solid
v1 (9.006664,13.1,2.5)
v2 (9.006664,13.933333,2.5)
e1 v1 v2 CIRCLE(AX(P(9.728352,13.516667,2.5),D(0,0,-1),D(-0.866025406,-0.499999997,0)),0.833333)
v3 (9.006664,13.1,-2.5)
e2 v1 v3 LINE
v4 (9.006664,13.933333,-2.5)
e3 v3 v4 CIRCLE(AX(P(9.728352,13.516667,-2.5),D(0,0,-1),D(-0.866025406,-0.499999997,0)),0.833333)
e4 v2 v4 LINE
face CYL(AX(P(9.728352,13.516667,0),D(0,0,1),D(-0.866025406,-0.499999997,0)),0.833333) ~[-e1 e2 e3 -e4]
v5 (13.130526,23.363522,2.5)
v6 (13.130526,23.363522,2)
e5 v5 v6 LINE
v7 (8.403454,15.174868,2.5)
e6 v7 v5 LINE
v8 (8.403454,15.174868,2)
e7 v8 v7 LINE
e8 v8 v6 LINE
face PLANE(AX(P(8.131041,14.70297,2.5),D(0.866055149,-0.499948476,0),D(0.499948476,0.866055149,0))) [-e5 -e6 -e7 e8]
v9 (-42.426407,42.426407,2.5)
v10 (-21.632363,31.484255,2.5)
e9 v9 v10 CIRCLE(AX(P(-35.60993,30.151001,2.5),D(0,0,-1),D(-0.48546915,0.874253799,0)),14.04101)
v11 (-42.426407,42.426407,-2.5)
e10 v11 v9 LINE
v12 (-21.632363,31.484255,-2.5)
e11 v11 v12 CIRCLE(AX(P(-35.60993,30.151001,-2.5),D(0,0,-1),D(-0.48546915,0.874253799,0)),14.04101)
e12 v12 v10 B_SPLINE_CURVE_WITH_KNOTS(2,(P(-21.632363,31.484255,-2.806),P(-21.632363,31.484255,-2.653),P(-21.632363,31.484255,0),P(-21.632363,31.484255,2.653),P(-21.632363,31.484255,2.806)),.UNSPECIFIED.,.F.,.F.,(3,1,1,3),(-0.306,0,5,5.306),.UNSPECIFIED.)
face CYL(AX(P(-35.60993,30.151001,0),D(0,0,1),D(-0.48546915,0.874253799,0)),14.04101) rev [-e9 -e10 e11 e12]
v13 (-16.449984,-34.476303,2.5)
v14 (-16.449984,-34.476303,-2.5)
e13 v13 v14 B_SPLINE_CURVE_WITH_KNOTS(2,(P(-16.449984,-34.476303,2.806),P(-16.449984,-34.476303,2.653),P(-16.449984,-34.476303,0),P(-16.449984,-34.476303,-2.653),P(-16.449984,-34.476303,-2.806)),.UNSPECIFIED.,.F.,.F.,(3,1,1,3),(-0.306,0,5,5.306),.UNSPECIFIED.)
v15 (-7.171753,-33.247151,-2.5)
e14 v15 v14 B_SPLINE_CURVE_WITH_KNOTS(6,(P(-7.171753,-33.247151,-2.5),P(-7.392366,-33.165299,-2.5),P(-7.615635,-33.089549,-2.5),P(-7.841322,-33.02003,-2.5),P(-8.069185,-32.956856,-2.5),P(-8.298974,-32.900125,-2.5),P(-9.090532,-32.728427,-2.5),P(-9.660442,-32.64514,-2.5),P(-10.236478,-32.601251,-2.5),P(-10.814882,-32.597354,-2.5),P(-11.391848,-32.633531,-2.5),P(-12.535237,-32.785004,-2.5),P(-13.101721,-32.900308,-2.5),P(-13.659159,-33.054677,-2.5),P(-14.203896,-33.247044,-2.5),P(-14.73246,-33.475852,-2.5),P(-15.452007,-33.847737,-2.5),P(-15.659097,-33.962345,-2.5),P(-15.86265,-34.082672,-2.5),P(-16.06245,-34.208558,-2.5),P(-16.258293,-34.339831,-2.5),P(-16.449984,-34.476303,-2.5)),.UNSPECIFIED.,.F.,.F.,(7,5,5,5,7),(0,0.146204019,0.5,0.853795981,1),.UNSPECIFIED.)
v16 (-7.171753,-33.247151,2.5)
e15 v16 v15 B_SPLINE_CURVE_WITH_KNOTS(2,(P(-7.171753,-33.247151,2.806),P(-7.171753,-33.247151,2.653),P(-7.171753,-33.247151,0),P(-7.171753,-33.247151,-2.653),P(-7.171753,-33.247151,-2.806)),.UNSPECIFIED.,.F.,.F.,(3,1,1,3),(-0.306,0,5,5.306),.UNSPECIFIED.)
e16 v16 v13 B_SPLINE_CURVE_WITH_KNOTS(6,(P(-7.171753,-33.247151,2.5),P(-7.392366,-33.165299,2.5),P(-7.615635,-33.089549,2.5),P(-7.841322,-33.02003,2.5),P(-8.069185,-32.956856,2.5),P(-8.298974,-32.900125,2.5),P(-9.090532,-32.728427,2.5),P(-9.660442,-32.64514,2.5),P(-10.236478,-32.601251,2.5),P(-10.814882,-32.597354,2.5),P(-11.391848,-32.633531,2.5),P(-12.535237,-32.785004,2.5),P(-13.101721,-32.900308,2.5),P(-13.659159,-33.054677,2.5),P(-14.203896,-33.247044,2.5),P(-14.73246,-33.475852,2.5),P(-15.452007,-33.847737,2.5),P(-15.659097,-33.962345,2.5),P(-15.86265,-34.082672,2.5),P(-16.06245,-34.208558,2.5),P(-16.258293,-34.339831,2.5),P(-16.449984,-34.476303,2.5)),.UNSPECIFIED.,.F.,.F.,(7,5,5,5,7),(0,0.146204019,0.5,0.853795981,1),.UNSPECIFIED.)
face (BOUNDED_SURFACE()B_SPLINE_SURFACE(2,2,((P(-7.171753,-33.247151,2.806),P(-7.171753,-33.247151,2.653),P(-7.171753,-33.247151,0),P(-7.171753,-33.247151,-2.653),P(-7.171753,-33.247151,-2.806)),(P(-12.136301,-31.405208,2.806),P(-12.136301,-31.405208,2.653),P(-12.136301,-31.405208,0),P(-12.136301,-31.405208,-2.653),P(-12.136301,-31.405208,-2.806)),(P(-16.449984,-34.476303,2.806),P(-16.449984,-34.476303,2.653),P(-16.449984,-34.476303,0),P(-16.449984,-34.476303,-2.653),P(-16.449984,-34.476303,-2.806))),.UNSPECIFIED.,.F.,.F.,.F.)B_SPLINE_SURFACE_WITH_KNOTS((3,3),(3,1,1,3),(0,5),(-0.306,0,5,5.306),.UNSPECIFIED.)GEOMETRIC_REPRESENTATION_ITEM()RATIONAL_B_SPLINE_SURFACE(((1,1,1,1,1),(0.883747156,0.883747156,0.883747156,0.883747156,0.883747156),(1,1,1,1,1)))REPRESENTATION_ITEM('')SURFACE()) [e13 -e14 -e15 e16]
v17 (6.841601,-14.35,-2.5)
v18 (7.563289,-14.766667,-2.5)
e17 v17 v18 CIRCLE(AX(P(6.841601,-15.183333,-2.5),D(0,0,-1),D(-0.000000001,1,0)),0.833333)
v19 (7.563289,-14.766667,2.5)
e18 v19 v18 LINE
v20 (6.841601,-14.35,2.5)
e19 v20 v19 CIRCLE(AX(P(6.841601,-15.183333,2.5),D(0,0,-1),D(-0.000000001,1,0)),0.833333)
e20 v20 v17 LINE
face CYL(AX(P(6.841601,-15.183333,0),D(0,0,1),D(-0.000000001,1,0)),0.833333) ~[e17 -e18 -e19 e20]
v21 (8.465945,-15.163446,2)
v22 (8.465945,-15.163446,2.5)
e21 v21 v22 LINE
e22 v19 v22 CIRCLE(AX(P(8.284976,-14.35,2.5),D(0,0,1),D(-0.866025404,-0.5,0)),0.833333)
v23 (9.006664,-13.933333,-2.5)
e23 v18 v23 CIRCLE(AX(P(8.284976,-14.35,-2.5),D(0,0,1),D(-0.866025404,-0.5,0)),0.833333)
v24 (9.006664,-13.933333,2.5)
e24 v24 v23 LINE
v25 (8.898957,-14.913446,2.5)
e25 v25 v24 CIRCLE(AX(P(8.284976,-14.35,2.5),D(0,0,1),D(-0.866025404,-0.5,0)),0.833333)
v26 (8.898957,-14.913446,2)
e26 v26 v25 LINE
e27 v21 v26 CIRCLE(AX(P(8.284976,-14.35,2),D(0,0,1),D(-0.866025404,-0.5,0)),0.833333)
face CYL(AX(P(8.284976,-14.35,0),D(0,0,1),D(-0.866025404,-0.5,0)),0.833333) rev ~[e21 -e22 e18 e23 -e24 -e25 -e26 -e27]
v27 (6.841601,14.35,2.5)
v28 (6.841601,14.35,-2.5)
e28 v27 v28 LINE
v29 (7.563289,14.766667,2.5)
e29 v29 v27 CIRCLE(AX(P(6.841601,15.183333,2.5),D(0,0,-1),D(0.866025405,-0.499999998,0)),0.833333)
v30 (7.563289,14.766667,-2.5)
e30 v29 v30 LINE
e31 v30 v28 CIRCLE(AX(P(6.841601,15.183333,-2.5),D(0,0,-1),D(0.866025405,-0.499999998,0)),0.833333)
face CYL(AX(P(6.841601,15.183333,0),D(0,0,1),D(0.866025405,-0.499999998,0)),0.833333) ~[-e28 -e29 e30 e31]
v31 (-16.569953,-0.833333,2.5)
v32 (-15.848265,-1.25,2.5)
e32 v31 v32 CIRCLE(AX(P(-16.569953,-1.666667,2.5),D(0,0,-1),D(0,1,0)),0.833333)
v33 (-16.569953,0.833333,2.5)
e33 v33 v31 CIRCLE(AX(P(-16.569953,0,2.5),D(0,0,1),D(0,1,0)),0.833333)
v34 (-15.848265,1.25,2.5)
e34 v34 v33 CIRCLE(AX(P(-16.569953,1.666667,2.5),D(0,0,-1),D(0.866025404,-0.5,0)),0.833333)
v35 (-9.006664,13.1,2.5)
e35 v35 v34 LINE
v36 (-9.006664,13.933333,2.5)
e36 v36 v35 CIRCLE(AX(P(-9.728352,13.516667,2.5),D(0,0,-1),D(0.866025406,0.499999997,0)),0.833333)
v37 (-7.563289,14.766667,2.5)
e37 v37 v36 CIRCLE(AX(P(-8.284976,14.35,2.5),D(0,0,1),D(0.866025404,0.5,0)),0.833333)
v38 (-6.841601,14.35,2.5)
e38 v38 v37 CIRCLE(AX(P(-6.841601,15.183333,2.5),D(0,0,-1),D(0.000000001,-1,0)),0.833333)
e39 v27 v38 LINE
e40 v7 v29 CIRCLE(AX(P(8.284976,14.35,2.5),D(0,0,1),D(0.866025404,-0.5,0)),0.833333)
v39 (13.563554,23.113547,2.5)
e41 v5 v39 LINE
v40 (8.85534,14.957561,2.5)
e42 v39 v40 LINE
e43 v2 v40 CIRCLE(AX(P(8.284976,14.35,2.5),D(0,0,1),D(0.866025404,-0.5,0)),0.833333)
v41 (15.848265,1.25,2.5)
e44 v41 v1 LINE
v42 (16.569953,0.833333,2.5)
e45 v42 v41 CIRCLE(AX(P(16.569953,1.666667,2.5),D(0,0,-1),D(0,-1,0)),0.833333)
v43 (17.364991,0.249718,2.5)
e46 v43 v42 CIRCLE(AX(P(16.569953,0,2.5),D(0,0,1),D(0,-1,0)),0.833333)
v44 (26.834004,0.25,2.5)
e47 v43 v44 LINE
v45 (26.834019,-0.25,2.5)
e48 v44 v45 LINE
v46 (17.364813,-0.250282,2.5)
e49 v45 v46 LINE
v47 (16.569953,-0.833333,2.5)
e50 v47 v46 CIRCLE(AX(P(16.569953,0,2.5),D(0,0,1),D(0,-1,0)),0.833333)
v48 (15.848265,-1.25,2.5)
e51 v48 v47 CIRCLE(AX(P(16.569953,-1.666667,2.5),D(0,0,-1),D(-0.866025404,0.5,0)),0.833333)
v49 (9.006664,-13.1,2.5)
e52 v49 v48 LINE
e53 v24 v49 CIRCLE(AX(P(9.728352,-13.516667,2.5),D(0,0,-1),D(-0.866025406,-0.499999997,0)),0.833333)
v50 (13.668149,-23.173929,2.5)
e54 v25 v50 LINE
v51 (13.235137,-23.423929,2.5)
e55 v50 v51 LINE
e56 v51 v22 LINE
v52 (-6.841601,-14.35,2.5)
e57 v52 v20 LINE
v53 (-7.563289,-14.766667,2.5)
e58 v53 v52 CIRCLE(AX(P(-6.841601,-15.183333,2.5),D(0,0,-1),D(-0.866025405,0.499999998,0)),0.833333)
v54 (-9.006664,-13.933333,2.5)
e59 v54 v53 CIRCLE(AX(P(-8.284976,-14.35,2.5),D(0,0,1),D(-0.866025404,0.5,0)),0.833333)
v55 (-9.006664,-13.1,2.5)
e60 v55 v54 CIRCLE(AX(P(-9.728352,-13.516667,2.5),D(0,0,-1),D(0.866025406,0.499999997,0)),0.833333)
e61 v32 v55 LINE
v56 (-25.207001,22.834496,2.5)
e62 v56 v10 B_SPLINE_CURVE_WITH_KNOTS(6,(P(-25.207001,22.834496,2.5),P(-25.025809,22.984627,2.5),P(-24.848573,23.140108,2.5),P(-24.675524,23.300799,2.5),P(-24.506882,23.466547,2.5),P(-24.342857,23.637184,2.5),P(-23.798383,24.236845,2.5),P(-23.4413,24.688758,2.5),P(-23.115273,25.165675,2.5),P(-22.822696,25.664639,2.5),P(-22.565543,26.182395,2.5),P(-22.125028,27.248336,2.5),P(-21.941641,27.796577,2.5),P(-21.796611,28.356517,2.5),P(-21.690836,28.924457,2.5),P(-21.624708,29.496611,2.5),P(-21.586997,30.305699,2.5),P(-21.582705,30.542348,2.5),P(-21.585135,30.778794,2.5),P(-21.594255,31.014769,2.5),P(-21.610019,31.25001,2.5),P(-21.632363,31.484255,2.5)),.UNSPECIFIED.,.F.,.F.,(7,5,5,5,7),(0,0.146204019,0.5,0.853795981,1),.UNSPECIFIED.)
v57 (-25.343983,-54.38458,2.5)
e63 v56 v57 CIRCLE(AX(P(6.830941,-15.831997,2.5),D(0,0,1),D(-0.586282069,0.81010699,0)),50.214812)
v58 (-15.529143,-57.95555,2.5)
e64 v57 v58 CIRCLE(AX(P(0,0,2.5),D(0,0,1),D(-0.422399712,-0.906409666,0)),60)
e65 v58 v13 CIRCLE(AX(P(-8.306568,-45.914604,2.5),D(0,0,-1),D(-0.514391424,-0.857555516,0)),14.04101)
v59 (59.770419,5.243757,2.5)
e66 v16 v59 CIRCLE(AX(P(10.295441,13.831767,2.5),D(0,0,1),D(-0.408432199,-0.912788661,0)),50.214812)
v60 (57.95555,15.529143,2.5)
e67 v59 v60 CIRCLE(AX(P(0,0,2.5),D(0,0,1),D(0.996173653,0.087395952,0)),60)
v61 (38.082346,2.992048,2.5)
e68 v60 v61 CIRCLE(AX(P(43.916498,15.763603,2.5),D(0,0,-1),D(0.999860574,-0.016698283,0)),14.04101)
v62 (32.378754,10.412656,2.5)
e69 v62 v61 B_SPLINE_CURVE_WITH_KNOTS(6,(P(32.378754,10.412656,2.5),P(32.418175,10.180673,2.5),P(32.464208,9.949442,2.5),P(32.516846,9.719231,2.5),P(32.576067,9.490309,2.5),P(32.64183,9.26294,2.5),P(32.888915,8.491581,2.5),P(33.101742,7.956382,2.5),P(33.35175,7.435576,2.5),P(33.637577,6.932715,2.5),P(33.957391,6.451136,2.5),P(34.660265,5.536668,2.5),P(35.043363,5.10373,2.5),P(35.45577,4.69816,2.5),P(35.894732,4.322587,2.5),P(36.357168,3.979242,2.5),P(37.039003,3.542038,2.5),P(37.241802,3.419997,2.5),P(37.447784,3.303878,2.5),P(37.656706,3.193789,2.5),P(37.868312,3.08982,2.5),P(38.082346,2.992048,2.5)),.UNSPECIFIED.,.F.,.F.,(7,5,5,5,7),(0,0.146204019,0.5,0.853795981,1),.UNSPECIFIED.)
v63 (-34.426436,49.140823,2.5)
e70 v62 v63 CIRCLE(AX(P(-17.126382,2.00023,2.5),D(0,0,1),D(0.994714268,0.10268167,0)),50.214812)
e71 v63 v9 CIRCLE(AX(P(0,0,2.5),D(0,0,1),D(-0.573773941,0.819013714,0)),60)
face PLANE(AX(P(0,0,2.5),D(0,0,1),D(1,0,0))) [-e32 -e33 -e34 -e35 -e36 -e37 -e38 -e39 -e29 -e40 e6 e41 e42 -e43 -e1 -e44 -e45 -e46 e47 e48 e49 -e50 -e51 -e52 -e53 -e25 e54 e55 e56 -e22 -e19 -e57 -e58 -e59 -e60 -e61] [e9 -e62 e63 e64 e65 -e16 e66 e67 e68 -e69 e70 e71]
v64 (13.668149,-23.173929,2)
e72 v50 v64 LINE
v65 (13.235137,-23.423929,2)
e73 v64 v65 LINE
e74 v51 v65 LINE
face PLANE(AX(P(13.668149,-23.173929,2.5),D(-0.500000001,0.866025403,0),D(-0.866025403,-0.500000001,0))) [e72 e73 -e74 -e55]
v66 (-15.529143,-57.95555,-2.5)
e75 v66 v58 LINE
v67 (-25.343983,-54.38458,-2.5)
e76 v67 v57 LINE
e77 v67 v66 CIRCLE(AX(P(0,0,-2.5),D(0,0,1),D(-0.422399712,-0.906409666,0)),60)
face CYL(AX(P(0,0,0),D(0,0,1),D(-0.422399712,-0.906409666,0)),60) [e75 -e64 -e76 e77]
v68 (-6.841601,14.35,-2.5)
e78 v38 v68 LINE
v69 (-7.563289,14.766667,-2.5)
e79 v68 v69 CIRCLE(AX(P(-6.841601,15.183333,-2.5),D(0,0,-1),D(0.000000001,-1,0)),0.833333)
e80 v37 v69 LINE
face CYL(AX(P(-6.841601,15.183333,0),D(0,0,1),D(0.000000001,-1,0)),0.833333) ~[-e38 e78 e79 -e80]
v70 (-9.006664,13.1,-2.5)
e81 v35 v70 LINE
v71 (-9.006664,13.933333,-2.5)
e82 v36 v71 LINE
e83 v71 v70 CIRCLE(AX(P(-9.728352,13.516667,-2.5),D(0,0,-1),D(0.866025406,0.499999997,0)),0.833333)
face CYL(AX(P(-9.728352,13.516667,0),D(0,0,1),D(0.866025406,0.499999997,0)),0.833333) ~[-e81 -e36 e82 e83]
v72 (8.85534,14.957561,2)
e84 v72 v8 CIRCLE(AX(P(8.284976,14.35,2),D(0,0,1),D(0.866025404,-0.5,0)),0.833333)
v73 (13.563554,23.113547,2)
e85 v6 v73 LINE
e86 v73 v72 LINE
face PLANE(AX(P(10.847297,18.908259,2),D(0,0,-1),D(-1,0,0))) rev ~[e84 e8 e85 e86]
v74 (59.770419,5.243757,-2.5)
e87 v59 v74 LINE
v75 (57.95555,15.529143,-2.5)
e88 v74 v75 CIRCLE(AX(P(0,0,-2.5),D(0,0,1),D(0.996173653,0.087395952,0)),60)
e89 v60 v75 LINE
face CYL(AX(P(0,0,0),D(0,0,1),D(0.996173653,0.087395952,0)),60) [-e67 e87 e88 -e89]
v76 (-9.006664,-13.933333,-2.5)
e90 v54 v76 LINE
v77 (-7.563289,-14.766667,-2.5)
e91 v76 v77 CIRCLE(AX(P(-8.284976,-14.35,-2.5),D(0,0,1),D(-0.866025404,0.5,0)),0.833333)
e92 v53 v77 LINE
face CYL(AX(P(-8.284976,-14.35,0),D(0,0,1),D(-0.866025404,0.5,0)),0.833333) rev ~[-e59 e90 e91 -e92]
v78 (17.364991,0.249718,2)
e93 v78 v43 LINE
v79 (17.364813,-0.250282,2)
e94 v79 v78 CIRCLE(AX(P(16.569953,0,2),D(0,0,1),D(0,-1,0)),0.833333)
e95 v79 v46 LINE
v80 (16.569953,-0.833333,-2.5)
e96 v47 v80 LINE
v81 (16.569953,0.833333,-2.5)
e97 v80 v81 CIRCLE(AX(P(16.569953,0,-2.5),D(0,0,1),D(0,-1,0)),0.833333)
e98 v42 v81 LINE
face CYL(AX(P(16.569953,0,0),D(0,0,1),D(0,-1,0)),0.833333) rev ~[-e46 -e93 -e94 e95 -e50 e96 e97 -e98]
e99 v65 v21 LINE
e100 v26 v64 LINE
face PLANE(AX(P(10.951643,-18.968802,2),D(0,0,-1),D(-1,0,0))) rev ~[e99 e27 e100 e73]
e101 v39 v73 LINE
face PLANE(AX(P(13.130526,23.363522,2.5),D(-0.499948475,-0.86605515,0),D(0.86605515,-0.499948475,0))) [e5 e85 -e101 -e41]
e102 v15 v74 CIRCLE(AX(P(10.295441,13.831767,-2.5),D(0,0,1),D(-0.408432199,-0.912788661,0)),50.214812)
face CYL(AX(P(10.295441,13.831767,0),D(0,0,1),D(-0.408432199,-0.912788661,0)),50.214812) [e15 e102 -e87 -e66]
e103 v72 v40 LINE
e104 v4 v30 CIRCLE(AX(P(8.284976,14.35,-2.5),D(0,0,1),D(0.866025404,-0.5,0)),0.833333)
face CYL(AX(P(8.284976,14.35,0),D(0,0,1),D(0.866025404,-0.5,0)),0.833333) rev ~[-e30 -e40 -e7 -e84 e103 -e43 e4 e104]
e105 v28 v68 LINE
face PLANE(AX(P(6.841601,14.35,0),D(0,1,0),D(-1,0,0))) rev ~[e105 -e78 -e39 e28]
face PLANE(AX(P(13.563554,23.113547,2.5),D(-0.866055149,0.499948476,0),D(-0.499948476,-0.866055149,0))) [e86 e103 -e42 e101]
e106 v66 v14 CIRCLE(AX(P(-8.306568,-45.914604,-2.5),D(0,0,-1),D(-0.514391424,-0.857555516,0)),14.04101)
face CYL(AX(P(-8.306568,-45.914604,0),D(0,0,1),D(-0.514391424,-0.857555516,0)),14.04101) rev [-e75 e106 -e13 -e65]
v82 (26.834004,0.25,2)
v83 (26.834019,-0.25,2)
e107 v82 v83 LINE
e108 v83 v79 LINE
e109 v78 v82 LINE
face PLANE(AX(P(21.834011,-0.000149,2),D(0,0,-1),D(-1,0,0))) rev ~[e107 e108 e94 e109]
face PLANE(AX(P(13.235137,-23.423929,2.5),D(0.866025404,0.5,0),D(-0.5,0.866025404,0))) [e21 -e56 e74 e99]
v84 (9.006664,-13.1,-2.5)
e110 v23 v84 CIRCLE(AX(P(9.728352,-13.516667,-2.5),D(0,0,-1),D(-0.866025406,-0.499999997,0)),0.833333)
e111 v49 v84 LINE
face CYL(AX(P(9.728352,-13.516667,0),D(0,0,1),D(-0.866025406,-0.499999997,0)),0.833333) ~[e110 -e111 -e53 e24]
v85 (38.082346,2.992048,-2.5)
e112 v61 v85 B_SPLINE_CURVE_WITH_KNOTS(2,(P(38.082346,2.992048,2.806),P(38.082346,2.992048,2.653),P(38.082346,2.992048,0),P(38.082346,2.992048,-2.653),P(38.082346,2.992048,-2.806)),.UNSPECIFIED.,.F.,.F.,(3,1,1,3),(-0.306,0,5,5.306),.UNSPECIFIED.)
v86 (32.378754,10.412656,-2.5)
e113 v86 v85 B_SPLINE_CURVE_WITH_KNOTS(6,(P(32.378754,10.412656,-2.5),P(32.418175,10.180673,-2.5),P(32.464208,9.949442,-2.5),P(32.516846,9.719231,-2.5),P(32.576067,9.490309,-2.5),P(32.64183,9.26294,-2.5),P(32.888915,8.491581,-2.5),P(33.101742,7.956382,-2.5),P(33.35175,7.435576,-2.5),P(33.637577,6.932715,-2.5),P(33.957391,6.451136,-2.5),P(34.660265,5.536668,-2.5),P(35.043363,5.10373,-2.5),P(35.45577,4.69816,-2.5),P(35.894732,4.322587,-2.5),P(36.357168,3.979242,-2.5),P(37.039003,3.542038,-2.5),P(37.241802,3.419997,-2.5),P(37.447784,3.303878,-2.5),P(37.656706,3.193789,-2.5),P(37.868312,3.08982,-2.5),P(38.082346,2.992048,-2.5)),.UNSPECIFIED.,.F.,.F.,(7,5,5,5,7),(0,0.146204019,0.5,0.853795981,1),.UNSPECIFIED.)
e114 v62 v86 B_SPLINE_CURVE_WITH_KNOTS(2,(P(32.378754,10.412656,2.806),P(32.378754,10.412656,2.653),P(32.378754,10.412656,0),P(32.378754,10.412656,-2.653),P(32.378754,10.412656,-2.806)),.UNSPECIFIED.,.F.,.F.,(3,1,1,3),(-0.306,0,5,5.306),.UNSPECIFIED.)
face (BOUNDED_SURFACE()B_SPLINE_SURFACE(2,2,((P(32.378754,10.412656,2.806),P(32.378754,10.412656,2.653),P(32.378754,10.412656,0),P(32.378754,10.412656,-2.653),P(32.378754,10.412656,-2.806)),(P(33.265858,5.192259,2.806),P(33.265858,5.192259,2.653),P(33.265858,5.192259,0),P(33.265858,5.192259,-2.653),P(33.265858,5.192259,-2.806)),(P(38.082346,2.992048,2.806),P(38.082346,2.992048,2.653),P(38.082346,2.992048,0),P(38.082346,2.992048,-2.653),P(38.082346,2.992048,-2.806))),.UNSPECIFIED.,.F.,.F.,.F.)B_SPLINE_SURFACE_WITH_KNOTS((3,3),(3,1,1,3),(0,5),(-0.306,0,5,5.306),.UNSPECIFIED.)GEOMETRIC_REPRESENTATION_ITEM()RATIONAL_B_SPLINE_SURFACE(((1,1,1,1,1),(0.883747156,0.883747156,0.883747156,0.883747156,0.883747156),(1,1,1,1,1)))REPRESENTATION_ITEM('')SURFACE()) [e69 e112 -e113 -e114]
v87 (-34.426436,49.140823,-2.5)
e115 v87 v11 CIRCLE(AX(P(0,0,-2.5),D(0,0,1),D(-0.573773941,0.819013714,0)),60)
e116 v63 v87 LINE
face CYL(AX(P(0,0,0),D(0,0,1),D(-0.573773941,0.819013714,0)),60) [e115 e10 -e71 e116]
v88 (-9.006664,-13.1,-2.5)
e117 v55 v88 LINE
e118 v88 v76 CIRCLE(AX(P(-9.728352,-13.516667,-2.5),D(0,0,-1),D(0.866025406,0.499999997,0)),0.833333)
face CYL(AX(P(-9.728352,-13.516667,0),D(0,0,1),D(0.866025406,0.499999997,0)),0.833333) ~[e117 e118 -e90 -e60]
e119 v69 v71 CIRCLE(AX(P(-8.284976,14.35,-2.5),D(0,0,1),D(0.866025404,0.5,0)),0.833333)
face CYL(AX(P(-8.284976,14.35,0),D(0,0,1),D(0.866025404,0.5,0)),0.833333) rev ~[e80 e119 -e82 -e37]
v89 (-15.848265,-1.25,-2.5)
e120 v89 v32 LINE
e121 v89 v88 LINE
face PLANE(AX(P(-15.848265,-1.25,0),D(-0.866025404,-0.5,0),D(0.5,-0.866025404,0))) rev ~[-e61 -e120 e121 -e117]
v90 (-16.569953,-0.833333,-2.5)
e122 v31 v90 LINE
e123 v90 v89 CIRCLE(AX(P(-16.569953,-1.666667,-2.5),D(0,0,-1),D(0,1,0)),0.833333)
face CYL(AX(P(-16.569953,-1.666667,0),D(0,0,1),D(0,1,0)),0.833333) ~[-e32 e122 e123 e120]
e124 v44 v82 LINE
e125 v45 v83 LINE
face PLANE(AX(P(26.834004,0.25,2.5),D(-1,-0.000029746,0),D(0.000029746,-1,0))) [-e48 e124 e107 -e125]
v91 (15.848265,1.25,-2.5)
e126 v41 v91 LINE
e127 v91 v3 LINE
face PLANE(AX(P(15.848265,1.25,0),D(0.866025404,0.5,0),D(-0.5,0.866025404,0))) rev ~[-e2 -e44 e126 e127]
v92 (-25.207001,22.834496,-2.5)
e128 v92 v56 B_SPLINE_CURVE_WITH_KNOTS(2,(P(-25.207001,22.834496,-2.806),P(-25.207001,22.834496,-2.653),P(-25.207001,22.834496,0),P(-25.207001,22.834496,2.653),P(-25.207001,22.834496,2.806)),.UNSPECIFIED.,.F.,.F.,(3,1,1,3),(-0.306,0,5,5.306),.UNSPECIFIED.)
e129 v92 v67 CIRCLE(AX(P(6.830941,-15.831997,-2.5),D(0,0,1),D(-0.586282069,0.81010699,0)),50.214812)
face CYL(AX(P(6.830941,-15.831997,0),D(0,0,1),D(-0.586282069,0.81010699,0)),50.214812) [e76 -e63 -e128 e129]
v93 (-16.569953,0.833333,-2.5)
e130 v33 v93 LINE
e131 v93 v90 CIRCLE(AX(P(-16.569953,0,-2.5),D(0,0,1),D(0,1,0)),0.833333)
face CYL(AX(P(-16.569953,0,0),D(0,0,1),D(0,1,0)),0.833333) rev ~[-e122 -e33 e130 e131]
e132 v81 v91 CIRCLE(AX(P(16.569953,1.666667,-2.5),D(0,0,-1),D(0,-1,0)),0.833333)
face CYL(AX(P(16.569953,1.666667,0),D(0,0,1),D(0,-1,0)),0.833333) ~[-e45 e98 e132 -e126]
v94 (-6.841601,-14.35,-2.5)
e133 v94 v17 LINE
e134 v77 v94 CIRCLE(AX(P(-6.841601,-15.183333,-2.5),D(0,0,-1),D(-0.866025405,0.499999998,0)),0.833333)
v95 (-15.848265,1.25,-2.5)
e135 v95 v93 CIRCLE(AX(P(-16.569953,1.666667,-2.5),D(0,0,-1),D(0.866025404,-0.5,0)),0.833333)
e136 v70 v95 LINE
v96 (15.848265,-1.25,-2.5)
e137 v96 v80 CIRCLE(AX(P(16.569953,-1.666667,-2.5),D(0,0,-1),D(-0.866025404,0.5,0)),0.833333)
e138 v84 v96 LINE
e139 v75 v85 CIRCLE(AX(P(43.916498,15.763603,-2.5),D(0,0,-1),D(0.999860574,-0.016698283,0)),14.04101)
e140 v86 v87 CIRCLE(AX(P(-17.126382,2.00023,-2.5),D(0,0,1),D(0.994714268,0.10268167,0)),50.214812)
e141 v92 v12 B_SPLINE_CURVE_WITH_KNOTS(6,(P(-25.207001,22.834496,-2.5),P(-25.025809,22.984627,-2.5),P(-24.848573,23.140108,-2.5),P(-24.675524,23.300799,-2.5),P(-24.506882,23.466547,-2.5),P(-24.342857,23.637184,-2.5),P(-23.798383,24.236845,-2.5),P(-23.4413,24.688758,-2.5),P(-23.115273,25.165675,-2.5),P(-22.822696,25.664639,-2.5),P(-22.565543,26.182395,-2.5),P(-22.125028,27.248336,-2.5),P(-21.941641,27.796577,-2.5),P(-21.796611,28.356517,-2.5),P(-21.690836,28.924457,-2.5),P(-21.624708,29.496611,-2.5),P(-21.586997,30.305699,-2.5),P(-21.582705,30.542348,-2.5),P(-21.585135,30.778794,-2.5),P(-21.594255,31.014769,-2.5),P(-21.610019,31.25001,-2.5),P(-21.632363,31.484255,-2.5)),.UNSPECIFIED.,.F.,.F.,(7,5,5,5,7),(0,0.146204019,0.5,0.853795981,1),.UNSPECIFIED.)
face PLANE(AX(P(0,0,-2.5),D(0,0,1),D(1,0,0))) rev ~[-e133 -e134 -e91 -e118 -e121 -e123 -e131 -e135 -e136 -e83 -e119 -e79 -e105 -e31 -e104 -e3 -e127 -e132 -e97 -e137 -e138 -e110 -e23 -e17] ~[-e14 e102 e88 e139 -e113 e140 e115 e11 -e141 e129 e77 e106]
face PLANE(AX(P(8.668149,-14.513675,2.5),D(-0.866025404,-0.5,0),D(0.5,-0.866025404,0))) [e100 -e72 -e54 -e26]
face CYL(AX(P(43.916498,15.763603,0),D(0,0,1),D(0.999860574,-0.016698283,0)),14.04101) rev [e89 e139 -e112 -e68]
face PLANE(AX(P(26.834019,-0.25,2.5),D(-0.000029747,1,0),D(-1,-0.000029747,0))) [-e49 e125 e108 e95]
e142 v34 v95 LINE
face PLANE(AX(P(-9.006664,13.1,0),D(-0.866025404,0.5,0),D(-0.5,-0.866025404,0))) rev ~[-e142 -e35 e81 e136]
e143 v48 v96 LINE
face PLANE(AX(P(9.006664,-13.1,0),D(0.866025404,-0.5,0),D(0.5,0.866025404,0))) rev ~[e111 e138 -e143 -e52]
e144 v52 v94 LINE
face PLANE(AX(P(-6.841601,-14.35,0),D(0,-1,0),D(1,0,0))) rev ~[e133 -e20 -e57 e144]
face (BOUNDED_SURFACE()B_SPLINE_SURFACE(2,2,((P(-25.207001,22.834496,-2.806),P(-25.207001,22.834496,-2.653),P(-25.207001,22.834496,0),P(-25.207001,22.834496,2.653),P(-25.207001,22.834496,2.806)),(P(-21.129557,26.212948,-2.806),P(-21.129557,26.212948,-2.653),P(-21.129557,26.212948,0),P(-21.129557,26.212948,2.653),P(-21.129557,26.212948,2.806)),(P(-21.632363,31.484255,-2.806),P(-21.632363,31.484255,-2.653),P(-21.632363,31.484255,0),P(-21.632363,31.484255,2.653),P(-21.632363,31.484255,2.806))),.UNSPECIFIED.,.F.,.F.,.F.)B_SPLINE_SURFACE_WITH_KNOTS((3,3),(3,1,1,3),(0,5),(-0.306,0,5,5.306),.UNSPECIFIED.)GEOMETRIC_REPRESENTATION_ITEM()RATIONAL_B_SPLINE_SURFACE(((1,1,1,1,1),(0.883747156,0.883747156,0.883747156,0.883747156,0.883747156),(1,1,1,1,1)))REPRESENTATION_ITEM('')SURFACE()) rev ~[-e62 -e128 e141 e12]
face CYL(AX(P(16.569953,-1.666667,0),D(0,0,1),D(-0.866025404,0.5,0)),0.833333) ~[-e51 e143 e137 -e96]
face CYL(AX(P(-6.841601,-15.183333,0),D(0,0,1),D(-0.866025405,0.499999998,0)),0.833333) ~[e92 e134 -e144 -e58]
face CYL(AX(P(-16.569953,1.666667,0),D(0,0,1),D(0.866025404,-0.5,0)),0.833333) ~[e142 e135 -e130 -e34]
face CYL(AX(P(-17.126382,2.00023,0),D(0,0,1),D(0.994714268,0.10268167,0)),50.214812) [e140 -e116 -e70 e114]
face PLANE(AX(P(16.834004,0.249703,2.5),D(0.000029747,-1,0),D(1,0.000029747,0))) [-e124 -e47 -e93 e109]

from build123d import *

# Parameters (mm, degrees)
BOSS_EXTRUDE1_DEPTH = 2.5
FILLET1_R           = 10
CUT_EXTRUDE1_DEPTH  = 0.5


with BuildPart() as part:
    # Sketch1 → Boss-Extrude1 (new, symmetric)
    with BuildSketch(Plane.XY):
        with BuildLine():
            ThreePointArc((-34.426436475, 49.140822863), (-38.572797774, 45.958016405), (-42.426406871, 42.426406871))
            ThreePointArc((-42.426406871, 42.426406871), (-26.29235792, 40.654943242), (-22.609103215, 24.847373735))
            ThreePointArc((-22.609103215, 24.847373735), (-43.353983992, -14.099744614), (-25.343982725, -54.38457998))
            ThreePointArc((-25.343982725, -54.38457998), (-20.514410827, -56.38403097), (-15.529142706, -57.955549577))
            ThreePointArc((-15.529142706, -57.955549577), (-22.062034677, -43.097321505), (-10.213905264, -32.003744609))
            ThreePointArc((-10.213905264, -32.003744609), (33.887729018, -30.495779185), (59.7704192, 5.243757117))
            ThreePointArc((59.7704192, 5.243757117), (59.087208601, 10.426014565), (57.955549577, 15.529142706))
            ThreePointArc((57.955549577, 15.529142706), (48.354392597, 2.442378263), (32.82300848, 7.156370874))
            ThreePointArc((32.82300848, 7.156370874), (9.466254973, 44.595523799), (-34.426436475, 49.140822863))
        make_face()
        with BuildLine():
            Line((-15.848264889, -1.25), (-9.006664199, -13.1))
            ThreePointArc((-9.006664199, -13.1), (-8.895018703, -13.516666667), (-9.006664199, -13.933333333))
            ThreePointArc((-9.006664199, -13.933333333), (-8.70164303, -15.071687836), (-7.563288526, -14.766666667))
            ThreePointArc((-7.563288526, -14.766666667), (-7.258267357, -14.461645497), (-6.84160069, -14.35))
            Line((-6.84160069, -14.35), (6.84160069, -14.35))
            ThreePointArc((6.84160069, -14.35), (7.258267357, -14.461645497), (7.563288526, -14.766666667))
            ThreePointArc((7.563288526, -14.766666667), (8.70164303, -15.071687836), (9.006664199, -13.933333333))
            ThreePointArc((9.006664199, -13.933333333), (8.895018703, -13.516666667), (9.006664199, -13.1))
            Line((9.006664199, -13.1), (15.848264889, -1.25))
            ThreePointArc((15.848264889, -1.25), (16.153286059, -0.94497883), (16.569952726, -0.833333333))
            ThreePointArc((16.569952726, -0.833333333), (17.403286059, 0), (16.569952726, 0.833333333))
            ThreePointArc((16.569952726, 0.833333333), (16.153286059, 0.94497883), (15.848264889, 1.25))
            Line((15.848264889, 1.25), (9.006664199, 13.1))
            ThreePointArc((9.006664199, 13.1), (8.895018703, 13.516666667), (9.006664199, 13.933333333))
            ThreePointArc((9.006664199, 13.933333333), (8.70164303, 15.071687836), (7.563288526, 14.766666667))
            ThreePointArc((7.563288526, 14.766666667), (7.258267357, 14.461645497), (6.84160069, 14.35))
            Line((6.84160069, 14.35), (-6.84160069, 14.35))
            ThreePointArc((-6.84160069, 14.35), (-7.258267357, 14.461645497), (-7.563288526, 14.766666667))
            ThreePointArc((-7.563288526, 14.766666667), (-8.70164303, 15.071687836), (-9.006664199, 13.933333333))
            ThreePointArc((-9.006664199, 13.933333333), (-8.895018703, 13.516666667), (-9.006664199, 13.1))
            Line((-9.006664199, 13.1), (-15.848264889, 1.25))
            ThreePointArc((-15.848264889, 1.25), (-16.153286059, 0.94497883), (-16.569952726, 0.833333333))
            ThreePointArc((-16.569952726, 0.833333333), (-17.403286059, 0), (-16.569952726, -0.833333333))
            ThreePointArc((-16.569952726, -0.833333333), (-16.153286059, -0.94497883), (-15.848264889, -1.25))
        make_face(mode=Mode.SUBTRACT)
    extrude(amount=BOSS_EXTRUDE1_DEPTH, both=True)

    # Fillet1
    fillet1_edges = [part.edges().sort_by_distance(p)[0] for p in [
        (32.82300848, 7.156370874, 0),
        (-10.213905264, -32.003744609, 0),
        (-22.609103215, 24.847373735, 0),
    ]]
    fillet(fillet1_edges, radius=FILLET1_R)

    # Sketch2 → Cut-Extrude1 (cut)
    with BuildSketch(Plane.XY.offset(2.5)):
        Polygon((8.66814938, -14.513675135), (13.66814938, -23.173929172), (13.235136679, -23.423929172), (8.235136679, -14.763675135), align=None)
        Polygon((16.834018905, -0.25029747), (16.834004031, 0.249702529), (26.834004027, 0.25), (26.8340189, -0.25), align=None)
        Polygon((8.564068882, 14.452995813), (8.131041308, 14.702970051), (13.130526065, 23.363521544), (13.563553639, 23.113547307), align=None)
    extrude(amount=-CUT_EXTRUDE1_DEPTH, mode=Mode.SUBTRACT)


solid = part.part
